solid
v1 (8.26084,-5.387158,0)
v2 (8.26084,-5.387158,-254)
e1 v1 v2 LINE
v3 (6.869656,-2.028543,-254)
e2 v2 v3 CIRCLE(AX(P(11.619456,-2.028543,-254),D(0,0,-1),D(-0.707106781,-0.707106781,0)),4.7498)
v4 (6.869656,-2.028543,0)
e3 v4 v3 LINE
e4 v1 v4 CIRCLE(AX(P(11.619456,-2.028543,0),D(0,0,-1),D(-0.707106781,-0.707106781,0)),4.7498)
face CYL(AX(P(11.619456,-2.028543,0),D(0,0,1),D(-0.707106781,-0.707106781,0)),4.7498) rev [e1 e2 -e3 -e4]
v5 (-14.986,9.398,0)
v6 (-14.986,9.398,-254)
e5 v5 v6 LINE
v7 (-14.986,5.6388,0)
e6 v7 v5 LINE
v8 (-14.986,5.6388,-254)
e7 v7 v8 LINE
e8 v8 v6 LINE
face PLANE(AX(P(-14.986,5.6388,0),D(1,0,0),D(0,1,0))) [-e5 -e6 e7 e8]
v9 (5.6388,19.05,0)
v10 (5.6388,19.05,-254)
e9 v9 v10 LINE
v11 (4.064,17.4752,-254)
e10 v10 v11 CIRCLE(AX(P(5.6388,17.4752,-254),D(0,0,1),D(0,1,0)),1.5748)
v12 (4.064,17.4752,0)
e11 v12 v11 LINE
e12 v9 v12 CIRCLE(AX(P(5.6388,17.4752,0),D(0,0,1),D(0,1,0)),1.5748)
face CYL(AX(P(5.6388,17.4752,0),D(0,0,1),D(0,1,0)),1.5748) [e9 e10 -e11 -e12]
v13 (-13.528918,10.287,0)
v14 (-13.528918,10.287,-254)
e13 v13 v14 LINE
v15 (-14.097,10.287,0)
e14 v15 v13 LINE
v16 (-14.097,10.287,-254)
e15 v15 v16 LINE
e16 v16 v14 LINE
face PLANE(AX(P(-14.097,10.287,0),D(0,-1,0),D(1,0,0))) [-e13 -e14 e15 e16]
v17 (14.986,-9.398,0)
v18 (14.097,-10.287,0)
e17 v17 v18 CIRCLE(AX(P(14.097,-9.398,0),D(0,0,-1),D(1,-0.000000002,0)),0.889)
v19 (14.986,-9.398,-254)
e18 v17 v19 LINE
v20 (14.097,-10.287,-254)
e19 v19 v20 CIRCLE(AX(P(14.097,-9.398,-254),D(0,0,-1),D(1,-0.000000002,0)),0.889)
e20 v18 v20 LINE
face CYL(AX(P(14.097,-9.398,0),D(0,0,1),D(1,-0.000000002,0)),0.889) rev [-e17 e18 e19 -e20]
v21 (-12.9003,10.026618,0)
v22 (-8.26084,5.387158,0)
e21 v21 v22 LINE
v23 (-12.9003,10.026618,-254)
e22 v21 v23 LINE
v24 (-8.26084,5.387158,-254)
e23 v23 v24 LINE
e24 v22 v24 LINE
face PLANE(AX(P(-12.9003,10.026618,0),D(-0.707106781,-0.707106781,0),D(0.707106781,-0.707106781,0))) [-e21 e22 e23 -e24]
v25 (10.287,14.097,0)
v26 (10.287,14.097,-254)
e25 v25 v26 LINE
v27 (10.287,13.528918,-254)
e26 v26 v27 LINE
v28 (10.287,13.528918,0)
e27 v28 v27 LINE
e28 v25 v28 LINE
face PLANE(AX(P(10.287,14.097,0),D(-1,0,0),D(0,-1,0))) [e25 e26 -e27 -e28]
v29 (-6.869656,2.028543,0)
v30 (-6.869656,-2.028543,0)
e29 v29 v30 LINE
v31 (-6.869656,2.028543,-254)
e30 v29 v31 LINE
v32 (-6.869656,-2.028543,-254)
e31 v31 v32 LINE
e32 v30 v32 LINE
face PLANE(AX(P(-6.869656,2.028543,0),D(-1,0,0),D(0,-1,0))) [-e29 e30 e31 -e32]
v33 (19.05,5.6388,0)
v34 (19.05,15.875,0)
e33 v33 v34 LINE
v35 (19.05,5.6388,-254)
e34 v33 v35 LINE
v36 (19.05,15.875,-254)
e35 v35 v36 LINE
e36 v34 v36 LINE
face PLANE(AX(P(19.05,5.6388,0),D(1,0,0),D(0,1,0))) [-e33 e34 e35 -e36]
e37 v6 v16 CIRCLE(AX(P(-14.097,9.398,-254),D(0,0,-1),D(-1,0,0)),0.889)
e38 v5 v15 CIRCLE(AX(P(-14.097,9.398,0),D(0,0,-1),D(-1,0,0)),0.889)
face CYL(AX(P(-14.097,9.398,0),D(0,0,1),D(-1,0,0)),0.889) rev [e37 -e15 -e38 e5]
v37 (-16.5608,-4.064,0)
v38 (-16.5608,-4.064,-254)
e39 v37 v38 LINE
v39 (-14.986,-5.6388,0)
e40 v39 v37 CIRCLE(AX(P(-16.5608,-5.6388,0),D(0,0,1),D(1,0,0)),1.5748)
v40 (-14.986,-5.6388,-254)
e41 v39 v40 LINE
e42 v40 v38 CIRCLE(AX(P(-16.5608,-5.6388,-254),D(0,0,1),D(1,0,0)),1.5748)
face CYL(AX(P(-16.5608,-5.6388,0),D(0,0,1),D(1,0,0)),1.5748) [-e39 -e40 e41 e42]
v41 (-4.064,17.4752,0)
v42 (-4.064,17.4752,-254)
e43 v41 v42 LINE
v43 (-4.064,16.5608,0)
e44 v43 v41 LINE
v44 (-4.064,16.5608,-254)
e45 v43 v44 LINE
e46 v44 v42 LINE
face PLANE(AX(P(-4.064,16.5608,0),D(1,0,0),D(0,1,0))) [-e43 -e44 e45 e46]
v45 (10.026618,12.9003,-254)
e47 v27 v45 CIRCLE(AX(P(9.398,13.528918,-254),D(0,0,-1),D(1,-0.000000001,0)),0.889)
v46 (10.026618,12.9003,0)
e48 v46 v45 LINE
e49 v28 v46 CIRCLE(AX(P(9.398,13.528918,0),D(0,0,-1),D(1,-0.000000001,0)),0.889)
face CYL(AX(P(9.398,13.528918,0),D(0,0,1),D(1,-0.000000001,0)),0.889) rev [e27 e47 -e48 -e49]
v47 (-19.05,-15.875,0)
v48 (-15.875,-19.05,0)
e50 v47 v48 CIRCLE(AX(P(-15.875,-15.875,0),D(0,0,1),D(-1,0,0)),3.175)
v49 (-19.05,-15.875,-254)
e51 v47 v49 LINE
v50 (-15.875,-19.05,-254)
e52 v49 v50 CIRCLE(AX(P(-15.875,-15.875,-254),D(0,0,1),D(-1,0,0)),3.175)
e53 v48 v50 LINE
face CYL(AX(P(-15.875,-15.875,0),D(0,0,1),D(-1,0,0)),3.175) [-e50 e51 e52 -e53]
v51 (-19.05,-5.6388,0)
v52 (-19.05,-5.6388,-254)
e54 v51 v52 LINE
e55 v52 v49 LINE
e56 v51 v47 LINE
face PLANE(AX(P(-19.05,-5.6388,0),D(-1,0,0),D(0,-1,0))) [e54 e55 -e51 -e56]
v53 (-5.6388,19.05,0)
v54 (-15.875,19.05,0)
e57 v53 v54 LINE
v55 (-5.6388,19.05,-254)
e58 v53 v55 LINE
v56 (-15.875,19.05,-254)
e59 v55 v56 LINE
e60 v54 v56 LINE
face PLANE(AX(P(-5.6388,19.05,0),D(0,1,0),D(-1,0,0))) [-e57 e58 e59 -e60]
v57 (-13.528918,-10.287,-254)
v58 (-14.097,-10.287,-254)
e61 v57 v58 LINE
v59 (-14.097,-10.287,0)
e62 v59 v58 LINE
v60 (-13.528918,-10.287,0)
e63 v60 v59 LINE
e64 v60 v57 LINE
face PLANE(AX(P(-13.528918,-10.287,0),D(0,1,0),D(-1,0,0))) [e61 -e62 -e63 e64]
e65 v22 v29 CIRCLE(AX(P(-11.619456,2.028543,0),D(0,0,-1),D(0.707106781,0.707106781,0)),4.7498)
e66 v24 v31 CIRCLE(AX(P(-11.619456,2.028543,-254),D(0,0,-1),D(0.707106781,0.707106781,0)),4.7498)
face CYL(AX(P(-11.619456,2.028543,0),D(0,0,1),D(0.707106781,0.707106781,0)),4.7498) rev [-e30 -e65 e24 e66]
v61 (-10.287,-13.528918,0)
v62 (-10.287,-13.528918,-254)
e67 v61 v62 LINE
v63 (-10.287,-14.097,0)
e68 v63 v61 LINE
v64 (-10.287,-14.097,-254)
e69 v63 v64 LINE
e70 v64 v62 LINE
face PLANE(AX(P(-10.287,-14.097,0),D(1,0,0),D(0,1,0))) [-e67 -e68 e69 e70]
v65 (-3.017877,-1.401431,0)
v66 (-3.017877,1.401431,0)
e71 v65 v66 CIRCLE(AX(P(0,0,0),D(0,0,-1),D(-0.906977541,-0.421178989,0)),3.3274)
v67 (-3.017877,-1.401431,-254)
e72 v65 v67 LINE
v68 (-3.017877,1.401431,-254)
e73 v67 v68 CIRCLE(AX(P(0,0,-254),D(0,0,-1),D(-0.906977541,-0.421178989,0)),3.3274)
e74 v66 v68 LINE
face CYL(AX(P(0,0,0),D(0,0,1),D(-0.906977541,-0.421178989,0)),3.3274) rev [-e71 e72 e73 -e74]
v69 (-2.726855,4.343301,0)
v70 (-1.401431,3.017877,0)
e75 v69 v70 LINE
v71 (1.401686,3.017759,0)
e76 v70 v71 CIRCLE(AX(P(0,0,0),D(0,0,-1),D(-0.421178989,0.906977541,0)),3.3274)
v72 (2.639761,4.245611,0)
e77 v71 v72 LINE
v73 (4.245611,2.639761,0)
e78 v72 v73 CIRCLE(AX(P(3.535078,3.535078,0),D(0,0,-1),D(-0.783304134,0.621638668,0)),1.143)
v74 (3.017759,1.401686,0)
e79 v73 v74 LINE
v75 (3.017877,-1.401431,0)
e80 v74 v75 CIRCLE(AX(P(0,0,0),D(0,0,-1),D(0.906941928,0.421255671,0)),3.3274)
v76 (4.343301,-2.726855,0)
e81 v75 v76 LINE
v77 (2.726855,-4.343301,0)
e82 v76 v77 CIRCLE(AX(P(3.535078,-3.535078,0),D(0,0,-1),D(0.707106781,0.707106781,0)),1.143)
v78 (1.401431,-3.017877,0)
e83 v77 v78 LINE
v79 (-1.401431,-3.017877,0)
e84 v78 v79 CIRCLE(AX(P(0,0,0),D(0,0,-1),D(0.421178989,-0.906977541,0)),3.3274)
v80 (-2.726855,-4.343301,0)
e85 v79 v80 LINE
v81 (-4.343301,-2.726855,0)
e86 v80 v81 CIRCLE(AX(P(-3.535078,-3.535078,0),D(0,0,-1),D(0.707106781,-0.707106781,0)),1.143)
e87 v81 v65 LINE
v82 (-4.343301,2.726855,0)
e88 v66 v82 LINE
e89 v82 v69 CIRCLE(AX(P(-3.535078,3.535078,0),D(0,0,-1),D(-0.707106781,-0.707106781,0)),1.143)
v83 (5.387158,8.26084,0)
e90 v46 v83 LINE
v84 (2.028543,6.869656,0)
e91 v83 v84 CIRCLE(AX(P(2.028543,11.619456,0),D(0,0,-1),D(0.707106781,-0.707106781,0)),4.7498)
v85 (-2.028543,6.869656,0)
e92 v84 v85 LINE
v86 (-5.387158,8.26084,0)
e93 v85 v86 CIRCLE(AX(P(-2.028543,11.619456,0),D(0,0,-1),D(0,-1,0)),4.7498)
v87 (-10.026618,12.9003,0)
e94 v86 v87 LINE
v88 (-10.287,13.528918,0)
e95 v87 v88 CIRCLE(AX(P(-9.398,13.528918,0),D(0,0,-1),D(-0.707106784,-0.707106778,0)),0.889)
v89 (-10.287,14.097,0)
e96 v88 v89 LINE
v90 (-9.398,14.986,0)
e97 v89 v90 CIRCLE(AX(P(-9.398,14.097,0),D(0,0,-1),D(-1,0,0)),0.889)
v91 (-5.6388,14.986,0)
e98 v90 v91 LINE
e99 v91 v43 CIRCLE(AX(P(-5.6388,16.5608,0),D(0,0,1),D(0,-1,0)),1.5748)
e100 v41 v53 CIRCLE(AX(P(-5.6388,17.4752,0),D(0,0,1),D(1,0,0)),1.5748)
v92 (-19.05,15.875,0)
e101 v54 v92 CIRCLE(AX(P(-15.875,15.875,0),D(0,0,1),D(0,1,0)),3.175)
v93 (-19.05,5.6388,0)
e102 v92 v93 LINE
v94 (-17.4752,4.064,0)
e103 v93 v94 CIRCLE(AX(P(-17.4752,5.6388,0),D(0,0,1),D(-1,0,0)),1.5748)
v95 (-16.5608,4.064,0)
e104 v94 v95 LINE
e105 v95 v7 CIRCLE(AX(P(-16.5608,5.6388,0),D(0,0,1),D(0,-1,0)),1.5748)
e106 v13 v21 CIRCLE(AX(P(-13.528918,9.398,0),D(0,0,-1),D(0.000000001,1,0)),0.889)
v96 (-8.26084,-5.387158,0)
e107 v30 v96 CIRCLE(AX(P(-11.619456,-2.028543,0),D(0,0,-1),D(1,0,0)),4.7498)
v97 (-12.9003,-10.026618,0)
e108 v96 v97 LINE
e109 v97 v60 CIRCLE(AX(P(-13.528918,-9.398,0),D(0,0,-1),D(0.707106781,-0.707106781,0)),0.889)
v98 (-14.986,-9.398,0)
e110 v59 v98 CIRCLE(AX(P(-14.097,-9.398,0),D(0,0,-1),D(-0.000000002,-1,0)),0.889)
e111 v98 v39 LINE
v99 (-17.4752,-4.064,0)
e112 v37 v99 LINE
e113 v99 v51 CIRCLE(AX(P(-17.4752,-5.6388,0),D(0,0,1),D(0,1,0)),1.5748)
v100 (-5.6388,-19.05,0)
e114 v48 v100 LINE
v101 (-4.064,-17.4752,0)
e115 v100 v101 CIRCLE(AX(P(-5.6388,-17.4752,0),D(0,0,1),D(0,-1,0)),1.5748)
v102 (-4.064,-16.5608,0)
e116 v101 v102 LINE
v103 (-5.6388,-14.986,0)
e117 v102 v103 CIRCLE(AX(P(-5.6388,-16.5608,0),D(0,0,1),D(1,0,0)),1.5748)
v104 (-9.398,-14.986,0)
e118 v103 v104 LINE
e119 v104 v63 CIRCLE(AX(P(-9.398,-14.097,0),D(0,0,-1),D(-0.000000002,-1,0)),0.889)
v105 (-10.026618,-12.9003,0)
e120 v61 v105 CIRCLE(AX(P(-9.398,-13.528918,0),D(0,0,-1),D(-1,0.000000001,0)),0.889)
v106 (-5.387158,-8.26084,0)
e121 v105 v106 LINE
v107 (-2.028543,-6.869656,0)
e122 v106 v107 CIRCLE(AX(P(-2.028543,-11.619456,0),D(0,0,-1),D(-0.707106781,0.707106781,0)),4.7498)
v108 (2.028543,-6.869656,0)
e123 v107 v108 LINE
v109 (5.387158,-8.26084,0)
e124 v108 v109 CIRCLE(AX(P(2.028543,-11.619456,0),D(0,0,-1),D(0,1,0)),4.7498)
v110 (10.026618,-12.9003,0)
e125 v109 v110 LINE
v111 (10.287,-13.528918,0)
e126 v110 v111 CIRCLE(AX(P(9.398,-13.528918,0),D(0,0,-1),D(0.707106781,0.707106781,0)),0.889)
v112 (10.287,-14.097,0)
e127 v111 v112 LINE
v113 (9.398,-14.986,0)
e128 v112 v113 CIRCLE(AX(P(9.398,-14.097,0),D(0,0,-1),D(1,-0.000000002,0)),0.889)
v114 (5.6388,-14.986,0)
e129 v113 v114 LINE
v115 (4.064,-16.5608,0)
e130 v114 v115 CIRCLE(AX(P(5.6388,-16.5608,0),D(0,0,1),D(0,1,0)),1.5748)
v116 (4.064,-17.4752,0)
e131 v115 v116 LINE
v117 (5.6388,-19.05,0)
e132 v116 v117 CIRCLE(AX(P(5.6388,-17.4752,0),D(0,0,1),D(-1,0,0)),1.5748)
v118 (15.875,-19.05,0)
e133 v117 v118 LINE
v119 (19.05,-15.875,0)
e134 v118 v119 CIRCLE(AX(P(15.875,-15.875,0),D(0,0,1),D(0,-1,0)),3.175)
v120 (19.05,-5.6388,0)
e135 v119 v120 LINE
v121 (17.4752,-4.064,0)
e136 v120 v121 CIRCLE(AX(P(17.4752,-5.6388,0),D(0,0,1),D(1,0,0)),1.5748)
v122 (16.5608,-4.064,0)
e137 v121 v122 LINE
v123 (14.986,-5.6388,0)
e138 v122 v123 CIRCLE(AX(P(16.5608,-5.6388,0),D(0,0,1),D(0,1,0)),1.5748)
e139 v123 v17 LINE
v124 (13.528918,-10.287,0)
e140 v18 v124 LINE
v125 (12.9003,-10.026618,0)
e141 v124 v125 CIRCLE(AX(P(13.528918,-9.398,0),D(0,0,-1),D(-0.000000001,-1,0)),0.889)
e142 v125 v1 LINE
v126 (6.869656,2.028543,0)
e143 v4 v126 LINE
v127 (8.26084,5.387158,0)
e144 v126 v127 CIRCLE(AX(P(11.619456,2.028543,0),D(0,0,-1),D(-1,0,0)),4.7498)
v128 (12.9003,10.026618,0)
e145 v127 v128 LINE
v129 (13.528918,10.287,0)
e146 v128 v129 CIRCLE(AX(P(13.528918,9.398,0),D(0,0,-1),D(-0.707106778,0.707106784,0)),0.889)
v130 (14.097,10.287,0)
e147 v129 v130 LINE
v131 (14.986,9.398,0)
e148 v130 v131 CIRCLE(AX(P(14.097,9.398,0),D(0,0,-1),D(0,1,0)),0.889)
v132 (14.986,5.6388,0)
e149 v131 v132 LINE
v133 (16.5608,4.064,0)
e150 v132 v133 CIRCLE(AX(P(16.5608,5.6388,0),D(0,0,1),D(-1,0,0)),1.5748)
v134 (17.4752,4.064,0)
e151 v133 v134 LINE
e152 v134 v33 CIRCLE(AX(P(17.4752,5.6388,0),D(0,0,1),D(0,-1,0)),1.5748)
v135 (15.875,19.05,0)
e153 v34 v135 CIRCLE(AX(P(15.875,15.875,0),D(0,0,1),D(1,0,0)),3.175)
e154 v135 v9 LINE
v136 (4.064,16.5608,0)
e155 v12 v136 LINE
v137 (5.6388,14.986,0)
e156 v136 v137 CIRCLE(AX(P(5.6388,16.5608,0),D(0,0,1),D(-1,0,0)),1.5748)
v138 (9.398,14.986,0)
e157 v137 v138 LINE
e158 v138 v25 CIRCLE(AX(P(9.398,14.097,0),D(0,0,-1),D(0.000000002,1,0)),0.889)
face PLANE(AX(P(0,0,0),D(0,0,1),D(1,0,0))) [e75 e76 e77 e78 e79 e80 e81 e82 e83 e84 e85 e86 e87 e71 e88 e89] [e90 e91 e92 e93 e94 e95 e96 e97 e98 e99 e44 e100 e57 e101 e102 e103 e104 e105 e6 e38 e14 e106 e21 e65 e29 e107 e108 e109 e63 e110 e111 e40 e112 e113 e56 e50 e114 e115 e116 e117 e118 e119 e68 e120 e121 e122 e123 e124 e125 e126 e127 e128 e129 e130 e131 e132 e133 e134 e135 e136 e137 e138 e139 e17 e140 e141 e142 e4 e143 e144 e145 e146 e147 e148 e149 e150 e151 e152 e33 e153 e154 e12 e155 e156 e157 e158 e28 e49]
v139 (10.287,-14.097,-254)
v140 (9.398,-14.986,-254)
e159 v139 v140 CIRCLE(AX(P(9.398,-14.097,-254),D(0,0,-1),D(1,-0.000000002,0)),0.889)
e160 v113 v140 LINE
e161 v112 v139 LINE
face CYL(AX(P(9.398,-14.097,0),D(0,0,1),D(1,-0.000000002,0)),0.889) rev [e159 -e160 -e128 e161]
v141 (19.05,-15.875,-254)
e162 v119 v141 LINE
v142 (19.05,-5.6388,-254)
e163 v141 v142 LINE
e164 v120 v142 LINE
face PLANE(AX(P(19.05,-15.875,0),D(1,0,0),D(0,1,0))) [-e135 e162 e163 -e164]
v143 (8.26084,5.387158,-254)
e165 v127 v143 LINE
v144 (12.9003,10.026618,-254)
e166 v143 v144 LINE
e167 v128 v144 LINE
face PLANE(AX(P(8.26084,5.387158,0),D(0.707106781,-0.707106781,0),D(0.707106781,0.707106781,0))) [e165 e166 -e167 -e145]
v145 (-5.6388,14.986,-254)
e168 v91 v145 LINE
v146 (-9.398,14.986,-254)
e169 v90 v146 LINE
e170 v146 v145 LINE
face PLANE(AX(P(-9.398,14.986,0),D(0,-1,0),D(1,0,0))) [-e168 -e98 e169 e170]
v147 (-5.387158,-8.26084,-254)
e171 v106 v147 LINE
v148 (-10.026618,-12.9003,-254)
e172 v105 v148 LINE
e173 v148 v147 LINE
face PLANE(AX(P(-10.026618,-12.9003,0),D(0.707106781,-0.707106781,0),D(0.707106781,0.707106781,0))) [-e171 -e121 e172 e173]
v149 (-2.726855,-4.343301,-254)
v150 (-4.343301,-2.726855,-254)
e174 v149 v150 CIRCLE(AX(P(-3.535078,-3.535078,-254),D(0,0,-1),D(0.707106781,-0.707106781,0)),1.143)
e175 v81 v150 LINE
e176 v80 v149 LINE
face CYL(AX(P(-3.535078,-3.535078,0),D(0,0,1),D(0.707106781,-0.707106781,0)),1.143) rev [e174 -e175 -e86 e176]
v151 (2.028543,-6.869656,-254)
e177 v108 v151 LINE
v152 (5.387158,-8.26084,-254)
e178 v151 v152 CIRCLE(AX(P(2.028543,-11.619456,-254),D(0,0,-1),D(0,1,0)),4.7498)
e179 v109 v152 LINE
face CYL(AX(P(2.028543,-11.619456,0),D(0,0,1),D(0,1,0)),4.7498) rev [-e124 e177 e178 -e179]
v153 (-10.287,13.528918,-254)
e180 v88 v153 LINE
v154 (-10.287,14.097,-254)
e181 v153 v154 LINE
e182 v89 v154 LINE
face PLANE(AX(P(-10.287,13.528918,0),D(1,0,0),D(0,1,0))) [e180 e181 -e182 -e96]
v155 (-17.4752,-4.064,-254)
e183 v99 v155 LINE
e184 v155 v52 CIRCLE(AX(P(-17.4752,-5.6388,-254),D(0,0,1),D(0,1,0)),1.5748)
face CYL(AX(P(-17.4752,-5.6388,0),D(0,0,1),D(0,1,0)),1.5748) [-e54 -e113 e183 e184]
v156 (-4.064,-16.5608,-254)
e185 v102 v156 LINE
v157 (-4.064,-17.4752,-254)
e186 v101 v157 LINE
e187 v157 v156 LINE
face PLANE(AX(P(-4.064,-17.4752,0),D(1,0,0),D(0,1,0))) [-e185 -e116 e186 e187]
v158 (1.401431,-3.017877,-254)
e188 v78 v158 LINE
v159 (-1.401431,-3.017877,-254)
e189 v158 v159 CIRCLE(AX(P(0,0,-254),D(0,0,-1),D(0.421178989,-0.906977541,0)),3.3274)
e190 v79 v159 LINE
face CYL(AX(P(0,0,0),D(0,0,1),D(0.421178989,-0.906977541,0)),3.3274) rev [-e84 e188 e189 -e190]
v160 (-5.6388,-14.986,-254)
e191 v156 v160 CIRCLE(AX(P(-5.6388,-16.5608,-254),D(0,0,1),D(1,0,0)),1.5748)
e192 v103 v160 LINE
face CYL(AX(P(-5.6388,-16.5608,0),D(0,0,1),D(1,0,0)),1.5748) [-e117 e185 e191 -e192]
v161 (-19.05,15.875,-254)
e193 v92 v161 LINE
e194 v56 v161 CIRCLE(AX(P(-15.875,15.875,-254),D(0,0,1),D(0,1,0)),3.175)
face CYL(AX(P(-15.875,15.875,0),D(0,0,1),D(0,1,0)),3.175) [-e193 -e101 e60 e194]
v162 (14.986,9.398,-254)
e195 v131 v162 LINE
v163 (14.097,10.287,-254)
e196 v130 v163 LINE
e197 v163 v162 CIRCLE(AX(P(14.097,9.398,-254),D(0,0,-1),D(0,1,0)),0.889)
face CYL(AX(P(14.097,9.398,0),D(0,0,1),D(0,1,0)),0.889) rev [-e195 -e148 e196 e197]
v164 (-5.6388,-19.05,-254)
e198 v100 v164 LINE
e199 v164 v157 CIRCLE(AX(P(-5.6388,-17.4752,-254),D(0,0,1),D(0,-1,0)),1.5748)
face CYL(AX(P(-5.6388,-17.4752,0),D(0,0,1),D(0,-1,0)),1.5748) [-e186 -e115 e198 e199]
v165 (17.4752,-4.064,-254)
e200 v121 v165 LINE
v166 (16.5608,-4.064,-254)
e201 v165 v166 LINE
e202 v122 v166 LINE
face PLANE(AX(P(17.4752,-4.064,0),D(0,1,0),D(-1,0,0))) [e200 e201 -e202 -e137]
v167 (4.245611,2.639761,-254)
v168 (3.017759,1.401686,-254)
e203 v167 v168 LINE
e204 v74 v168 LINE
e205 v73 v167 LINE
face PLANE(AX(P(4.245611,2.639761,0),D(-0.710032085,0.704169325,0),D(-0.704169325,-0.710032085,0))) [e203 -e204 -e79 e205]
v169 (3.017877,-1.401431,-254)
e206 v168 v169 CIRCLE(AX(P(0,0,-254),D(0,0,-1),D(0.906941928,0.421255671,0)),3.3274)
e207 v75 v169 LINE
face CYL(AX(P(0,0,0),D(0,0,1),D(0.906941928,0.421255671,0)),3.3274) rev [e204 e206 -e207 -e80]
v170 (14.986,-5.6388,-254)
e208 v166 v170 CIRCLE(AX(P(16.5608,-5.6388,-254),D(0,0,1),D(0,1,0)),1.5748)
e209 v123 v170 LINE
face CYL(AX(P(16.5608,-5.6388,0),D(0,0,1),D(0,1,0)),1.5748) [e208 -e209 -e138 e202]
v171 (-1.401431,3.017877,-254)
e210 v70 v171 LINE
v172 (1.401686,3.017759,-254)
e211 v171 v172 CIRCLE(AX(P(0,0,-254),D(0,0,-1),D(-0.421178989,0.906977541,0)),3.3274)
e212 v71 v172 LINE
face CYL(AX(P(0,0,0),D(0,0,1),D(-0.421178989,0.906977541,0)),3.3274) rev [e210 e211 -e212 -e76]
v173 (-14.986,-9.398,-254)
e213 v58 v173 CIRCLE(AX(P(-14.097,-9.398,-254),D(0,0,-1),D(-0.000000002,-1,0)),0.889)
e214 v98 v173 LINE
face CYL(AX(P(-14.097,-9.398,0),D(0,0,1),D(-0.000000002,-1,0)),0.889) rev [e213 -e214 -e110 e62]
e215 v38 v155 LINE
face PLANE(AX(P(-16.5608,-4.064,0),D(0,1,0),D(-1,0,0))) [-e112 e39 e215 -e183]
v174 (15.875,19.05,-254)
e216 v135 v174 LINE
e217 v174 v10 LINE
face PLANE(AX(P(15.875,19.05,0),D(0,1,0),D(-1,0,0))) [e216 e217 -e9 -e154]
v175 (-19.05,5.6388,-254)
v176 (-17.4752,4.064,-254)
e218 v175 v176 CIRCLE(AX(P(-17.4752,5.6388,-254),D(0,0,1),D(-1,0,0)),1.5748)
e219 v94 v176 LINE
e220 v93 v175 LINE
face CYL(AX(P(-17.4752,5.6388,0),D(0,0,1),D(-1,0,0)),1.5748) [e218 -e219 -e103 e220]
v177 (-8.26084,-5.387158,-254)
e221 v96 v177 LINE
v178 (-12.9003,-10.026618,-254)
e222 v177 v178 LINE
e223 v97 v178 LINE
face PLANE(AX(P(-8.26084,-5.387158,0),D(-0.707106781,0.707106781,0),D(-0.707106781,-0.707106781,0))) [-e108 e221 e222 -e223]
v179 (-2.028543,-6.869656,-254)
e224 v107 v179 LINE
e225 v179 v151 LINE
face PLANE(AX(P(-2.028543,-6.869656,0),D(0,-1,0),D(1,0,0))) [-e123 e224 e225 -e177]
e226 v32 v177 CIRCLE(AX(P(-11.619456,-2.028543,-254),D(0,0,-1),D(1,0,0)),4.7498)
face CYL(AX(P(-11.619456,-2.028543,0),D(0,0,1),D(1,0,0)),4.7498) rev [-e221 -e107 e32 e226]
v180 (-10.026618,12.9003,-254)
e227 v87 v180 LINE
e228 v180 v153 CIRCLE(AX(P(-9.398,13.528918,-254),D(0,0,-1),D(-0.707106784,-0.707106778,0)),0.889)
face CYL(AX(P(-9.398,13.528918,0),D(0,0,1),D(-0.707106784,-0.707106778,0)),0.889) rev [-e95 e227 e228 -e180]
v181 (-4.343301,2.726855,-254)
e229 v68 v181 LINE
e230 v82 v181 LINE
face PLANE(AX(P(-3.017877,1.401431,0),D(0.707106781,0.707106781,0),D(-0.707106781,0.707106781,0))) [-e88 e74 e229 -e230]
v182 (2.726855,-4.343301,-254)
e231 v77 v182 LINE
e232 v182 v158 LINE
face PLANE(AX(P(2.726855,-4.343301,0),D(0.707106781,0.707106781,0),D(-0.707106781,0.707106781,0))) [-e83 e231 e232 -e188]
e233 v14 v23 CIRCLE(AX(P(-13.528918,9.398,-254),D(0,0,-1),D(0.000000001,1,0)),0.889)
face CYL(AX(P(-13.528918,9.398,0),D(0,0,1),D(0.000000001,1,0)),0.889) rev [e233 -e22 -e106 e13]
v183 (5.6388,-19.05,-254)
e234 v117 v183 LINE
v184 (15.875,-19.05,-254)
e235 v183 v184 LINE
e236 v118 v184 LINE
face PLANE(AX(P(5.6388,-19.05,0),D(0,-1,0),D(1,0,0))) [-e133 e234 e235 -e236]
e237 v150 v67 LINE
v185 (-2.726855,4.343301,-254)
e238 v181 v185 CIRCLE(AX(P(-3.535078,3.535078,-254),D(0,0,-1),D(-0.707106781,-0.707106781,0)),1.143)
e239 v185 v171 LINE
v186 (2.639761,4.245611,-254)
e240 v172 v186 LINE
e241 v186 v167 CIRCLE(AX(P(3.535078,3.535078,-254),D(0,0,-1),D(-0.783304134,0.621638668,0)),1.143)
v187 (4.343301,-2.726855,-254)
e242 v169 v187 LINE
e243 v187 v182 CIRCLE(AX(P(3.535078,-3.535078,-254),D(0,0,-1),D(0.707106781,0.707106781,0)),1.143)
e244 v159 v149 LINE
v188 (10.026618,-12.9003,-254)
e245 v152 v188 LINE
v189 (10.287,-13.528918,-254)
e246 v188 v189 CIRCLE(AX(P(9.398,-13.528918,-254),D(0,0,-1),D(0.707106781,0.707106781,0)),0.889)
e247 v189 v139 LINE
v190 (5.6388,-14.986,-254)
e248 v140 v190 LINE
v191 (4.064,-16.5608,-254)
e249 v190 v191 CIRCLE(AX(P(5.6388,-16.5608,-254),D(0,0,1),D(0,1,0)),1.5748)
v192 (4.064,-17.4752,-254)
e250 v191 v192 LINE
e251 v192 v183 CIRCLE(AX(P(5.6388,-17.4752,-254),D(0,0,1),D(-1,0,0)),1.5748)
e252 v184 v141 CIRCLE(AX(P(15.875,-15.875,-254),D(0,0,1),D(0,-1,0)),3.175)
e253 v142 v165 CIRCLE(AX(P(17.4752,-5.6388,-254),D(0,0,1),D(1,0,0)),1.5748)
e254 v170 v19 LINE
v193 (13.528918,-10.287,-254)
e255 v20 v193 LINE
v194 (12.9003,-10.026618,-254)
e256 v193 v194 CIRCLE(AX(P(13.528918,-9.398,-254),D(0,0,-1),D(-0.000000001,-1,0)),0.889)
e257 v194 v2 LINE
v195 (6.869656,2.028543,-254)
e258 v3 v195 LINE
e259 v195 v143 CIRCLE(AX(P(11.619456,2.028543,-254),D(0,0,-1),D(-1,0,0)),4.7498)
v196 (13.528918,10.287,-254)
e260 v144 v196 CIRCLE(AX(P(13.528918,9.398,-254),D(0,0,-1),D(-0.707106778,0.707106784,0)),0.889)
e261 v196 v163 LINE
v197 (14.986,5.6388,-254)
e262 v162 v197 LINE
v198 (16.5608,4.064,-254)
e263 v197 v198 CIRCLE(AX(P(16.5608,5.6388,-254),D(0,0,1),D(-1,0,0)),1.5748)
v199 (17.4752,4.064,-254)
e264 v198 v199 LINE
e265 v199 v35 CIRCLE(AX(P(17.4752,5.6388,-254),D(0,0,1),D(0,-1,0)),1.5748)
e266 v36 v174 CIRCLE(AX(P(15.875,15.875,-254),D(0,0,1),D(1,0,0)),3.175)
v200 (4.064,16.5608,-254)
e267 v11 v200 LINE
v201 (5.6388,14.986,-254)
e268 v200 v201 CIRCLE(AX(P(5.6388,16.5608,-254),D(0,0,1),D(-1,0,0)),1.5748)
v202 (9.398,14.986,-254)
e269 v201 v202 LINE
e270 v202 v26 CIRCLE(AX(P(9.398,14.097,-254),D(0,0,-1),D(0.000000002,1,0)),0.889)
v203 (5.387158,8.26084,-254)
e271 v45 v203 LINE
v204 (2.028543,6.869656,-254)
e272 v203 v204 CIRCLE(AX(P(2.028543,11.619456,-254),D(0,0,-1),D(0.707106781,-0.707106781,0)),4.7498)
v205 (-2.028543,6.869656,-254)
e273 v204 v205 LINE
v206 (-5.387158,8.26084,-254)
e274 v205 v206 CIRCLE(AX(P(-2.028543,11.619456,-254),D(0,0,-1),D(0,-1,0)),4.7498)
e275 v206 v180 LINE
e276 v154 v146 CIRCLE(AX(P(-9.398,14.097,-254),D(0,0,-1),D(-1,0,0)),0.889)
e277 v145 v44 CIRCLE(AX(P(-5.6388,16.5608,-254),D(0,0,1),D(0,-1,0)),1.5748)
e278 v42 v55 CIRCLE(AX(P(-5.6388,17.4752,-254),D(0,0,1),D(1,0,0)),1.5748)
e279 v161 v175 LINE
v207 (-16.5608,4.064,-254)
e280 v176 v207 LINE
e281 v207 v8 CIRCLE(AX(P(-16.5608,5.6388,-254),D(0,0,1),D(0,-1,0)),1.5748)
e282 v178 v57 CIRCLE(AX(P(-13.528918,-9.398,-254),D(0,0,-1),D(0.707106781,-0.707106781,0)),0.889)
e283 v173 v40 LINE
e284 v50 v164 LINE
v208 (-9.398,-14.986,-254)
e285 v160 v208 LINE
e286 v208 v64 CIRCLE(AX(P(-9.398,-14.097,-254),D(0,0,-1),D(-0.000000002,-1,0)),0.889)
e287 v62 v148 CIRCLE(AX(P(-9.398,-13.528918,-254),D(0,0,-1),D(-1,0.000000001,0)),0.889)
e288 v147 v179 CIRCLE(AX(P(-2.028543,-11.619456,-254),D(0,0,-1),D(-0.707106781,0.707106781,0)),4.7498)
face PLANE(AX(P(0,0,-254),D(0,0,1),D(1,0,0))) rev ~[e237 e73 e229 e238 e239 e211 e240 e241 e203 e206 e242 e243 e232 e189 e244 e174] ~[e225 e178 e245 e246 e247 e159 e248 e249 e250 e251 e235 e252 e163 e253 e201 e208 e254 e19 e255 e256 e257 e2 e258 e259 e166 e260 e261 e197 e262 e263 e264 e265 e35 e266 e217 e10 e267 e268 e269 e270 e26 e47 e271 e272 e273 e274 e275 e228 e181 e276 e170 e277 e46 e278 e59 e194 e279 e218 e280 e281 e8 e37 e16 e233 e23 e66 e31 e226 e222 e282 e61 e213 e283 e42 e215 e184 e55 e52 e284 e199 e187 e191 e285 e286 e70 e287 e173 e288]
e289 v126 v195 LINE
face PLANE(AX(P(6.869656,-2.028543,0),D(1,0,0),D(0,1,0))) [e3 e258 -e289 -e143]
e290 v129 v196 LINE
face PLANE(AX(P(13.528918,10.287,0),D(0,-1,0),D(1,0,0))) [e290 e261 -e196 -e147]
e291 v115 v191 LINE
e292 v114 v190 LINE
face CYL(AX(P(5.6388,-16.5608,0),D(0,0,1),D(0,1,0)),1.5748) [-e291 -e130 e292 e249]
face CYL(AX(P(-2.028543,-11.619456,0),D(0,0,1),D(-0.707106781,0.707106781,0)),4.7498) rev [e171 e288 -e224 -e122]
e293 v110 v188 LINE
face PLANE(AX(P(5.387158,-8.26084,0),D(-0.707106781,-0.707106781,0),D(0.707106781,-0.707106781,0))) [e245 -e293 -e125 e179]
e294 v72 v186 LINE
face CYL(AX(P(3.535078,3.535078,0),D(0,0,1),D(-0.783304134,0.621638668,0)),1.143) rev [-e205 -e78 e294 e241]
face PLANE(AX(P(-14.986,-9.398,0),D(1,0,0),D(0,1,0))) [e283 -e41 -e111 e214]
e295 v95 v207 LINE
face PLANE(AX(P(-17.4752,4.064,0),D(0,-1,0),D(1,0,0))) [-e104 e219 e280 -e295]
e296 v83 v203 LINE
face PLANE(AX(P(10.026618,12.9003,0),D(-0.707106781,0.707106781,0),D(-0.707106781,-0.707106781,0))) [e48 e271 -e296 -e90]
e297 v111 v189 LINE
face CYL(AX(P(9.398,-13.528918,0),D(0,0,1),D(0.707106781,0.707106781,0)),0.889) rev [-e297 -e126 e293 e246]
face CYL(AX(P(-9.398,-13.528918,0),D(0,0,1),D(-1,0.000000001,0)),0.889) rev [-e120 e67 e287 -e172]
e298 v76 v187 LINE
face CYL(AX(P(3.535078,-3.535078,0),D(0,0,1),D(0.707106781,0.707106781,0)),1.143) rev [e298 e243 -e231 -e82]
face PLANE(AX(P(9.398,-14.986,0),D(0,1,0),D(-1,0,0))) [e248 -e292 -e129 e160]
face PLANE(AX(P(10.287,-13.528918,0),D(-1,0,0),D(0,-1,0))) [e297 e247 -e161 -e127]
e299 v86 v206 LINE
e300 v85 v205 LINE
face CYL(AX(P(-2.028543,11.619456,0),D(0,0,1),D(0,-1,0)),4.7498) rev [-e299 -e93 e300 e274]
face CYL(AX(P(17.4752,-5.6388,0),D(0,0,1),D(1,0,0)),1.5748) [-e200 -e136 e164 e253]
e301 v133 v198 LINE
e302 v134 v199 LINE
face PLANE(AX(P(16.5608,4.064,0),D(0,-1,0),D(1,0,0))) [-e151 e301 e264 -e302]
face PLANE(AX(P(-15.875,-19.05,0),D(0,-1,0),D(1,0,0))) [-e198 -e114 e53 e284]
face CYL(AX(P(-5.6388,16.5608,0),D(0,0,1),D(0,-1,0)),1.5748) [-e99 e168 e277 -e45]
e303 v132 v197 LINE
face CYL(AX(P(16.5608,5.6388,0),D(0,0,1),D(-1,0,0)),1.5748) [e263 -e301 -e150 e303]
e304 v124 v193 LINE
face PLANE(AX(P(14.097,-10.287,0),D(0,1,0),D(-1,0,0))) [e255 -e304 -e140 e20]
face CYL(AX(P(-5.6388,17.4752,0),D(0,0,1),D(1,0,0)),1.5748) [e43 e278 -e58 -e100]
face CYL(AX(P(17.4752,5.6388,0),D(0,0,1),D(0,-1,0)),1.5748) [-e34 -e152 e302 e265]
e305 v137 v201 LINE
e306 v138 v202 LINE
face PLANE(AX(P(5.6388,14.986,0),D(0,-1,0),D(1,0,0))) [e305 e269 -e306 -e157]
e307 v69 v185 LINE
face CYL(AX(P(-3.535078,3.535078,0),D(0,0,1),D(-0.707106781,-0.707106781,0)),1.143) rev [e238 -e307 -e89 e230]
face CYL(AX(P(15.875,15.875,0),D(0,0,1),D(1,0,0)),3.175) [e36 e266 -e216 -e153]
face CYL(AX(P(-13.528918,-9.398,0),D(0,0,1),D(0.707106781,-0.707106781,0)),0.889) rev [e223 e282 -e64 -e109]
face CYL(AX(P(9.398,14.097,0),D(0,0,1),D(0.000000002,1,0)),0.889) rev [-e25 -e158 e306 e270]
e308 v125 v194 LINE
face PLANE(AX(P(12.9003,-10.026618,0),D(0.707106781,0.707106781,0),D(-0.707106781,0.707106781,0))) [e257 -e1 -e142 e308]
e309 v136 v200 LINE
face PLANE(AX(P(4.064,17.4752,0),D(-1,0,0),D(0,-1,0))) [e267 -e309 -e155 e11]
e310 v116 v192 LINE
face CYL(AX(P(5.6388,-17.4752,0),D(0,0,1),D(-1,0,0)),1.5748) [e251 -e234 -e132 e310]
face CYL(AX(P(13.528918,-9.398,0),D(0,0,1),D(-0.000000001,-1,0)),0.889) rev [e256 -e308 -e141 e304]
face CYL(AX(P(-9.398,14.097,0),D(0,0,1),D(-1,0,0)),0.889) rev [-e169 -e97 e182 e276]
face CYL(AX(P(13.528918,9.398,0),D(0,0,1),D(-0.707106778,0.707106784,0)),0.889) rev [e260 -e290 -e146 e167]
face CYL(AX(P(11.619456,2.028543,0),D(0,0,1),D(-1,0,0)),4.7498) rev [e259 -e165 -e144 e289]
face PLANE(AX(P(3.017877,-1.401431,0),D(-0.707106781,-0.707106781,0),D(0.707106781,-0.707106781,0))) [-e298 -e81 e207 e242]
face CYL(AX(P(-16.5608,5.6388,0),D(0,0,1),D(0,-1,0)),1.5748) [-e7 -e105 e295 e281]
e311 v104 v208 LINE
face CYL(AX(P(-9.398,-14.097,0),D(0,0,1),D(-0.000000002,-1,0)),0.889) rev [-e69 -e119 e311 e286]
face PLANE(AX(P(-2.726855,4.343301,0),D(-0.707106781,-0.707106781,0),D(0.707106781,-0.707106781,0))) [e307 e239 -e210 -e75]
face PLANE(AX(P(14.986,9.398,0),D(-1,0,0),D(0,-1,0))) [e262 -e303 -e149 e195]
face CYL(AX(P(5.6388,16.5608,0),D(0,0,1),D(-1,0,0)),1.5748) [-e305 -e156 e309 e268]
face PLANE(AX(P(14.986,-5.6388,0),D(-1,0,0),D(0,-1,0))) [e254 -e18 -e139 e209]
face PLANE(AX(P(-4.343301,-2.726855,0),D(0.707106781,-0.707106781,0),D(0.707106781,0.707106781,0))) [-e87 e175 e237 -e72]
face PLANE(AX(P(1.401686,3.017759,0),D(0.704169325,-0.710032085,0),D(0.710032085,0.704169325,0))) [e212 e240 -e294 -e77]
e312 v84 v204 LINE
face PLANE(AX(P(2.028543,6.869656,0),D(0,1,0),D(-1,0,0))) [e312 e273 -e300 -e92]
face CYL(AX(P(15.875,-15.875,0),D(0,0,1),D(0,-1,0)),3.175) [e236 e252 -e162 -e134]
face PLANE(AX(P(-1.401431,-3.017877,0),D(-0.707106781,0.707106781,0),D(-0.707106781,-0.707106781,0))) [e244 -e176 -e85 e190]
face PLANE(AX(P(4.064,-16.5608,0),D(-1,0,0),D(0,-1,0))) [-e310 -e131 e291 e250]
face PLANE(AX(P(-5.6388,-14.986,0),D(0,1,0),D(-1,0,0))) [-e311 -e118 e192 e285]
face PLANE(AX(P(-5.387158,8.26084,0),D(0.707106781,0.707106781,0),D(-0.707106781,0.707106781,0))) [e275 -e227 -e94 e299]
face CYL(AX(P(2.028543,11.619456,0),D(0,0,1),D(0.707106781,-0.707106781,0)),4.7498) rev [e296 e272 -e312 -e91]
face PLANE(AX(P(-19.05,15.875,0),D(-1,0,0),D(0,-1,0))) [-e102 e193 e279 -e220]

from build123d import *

# Parameters (mm, degrees)
EXTRUDE1_DEPTH = 254


with BuildPart() as part:
    # Sketch1 → Extrude1 (new body)
    with BuildSketch(Plane.XY):
        with BuildLine():
            Line((14.986, -5.6388), (14.986, -9.398))
            ThreePointArc((14.986, -9.398), (14.725617928, -10.026617928), (14.097, -10.287))
            Line((14.097, -10.287), (13.528917816, -10.287))
            ThreePointArc((13.528917816, -10.287), (13.188712244, -10.219328904), (12.900299887, -10.026617928))
            Line((12.900299887, -10.026617928), (8.260840349, -5.38715839))
            ThreePointArc((8.260840349, -5.38715839), (7.231213135, -3.846212368), (6.869656138, -2.028542601))
            Line((6.869656138, -2.028542601), (6.869656138, 2.028542601))
            ThreePointArc((6.869656138, 2.028542601), (7.231213135, 3.846212368), (8.260840349, 5.38715839))
            Line((8.260840349, 5.38715839), (12.900299887, 10.026617929))
            ThreePointArc((12.900299887, 10.026617929), (13.188712244, 10.219328904), (13.528917816, 10.287))
            Line((13.528917816, 10.287), (14.097, 10.287))
            ThreePointArc((14.097, 10.287), (14.725617928, 10.026617929), (14.986, 9.398))
            Line((14.986, 9.398), (14.986, 5.6388))
            ThreePointArc((14.986, 5.6388), (15.447248241, 4.525248241), (16.5608, 4.064))
            Line((16.5608, 4.064), (17.4752, 4.064))
            ThreePointArc((17.4752, 4.064), (18.588751759, 4.525248241), (19.05, 5.6388))
            Line((19.05, 5.6388), (19.05, 15.875))
            ThreePointArc((19.05, 15.875), (18.12006403, 18.12006403), (15.875, 19.05))
            Line((15.875, 19.05), (5.6388, 19.05))
            ThreePointArc((5.6388, 19.05), (4.525248241, 18.588751759), (4.064, 17.4752))
            Line((4.064, 17.4752), (4.064, 16.5608))
            ThreePointArc((4.064, 16.5608), (4.525248241, 15.447248241), (5.6388, 14.986))
            Line((5.6388, 14.986), (9.398, 14.986))
            ThreePointArc((9.398, 14.986), (10.026617928, 14.725617928), (10.287, 14.097))
            Line((10.287, 14.097), (10.287, 13.528917816))
            ThreePointArc((10.287, 13.528917816), (10.219328904, 13.188712244), (10.026617928, 12.900299887))
            Line((10.026617928, 12.900299887), (5.38715839, 8.260840349))
            ThreePointArc((5.38715839, 8.260840349), (3.846212368, 7.231213135), (2.028542601, 6.869656138))
            Line((2.028542601, 6.869656138), (-2.028542601, 6.869656138))
            ThreePointArc((-2.028542601, 6.869656138), (-3.846212368, 7.231213135), (-5.38715839, 8.260840349))
            Line((-5.38715839, 8.260840349), (-10.026617929, 12.900299887))
            ThreePointArc((-10.026617929, 12.900299887), (-10.219328904, 13.188712244), (-10.287, 13.528917816))
            Line((-10.287, 13.528917816), (-10.287, 14.097))
            ThreePointArc((-10.287, 14.097), (-10.026617929, 14.725617928), (-9.398, 14.986))
            Line((-9.398, 14.986), (-5.6388, 14.986))
            ThreePointArc((-5.6388, 14.986), (-4.525248241, 15.447248241), (-4.064, 16.5608))
            Line((-4.064, 16.5608), (-4.064, 17.4752))
            ThreePointArc((-4.064, 17.4752), (-4.525248241, 18.588751759), (-5.6388, 19.05))
            Line((-5.6388, 19.05), (-15.875, 19.05))
            ThreePointArc((-15.875, 19.05), (-18.12006403, 18.12006403), (-19.05, 15.875))
            Line((-19.05, 15.875), (-19.05, 5.6388))
            ThreePointArc((-19.05, 5.6388), (-18.588751759, 4.525248241), (-17.4752, 4.064))
            Line((-17.4752, 4.064), (-16.5608, 4.064))
            ThreePointArc((-16.5608, 4.064), (-15.447248241, 4.525248241), (-14.986, 5.6388))
            Line((-14.986, 5.6388), (-14.986, 9.398))
            ThreePointArc((-14.986, 9.398), (-14.725617929, 10.026617928), (-14.097, 10.287))
            Line((-14.097, 10.287), (-13.528917816, 10.287))
            ThreePointArc((-13.528917816, 10.287), (-13.188712244, 10.219328904), (-12.900299887, 10.026617928))
            Line((-12.900299887, 10.026617928), (-8.260840349, 5.38715839))
            ThreePointArc((-8.260840349, 5.38715839), (-7.231213135, 3.846212368), (-6.869656138, 2.028542601))
            Line((-6.869656138, 2.028542601), (-6.869656138, -2.028542601))
            ThreePointArc((-6.869656138, -2.028542601), (-7.231213135, -3.846212368), (-8.260840349, -5.38715839))
            Line((-8.260840349, -5.38715839), (-12.900299887, -10.026617928))
            ThreePointArc((-12.900299887, -10.026617928), (-13.188712244, -10.219328904), (-13.528917816, -10.287))
            Line((-13.528917816, -10.287), (-14.097, -10.287))
            ThreePointArc((-14.097, -10.287), (-14.725617928, -10.026617928), (-14.986, -9.398))
            Line((-14.986, -9.398), (-14.986, -5.6388))
            ThreePointArc((-14.986, -5.6388), (-15.447248241, -4.525248241), (-16.5608, -4.064))
            Line((-16.5608, -4.064), (-17.4752, -4.064))
            ThreePointArc((-17.4752, -4.064), (-18.588751759, -4.525248241), (-19.05, -5.6388))
            Line((-19.05, -5.6388), (-19.05, -15.875))
            ThreePointArc((-19.05, -15.875), (-18.12006403, -18.12006403), (-15.875, -19.05))
            Line((-15.875, -19.05), (-5.6388, -19.05))
            ThreePointArc((-5.6388, -19.05), (-4.525248241, -18.588751759), (-4.064, -17.4752))
            Line((-4.064, -17.4752), (-4.064, -16.5608))
            ThreePointArc((-4.064, -16.5608), (-4.525248241, -15.447248241), (-5.6388, -14.986))
            Line((-5.6388, -14.986), (-9.398, -14.986))
            ThreePointArc((-9.398, -14.986), (-10.026617928, -14.725617928), (-10.287, -14.097))
            Line((-10.287, -14.097), (-10.287, -13.528917816))
            ThreePointArc((-10.287, -13.528917816), (-10.219328904, -13.188712244), (-10.026617928, -12.900299887))
            Line((-10.026617928, -12.900299887), (-5.38715839, -8.260840349))
            ThreePointArc((-5.38715839, -8.260840349), (-3.846212368, -7.231213135), (-2.028542601, -6.869656138))
            Line((-2.028542601, -6.869656138), (2.028542601, -6.869656138))
            ThreePointArc((2.028542601, -6.869656138), (3.846212368, -7.231213135), (5.38715839, -8.260840349))
            Line((5.38715839, -8.260840349), (10.026617928, -12.900299887))
            ThreePointArc((10.026617928, -12.900299887), (10.219328904, -13.188712244), (10.287, -13.528917816))
            Line((10.287, -13.528917816), (10.287, -14.097))
            ThreePointArc((10.287, -14.097), (10.026617928, -14.725617928), (9.398, -14.986))
            Line((9.398, -14.986), (5.6388, -14.986))
            ThreePointArc((5.6388, -14.986), (4.525248241, -15.447248241), (4.064, -16.5608))
            Line((4.064, -16.5608), (4.064, -17.4752))
            ThreePointArc((4.064, -17.4752), (4.525248241, -18.588751759), (5.6388, -19.05))
            Line((5.6388, -19.05), (15.875, -19.05))
            ThreePointArc((15.875, -19.05), (18.12006403, -18.12006403), (19.05, -15.875))
            Line((19.05, -15.875), (19.05, -5.6388))
            ThreePointArc((19.05, -5.6388), (18.588751759, -4.525248241), (17.4752, -4.064))
            Line((17.4752, -4.064), (16.5608, -4.064))
            ThreePointArc((16.5608, -4.064), (15.447248241, -4.525248241), (14.986, -5.6388))
        make_face()
        with BuildLine():
            Line((4.24561082, 2.639761197), (3.01775857, 1.401686117))
            ThreePointArc((3.01775857, 1.401686117), (3.327399997, 0.000140662), (3.017877069, -1.401430967))
            Line((3.017877069, -1.401430967), (4.343300873, -2.726854771))
            ThreePointArc((4.343300873, -2.726854771), (4.343300873, -4.343300873), (2.726854771, -4.343300873))
            Line((2.726854771, -4.343300873), (1.401430967, -3.017877069))
            ThreePointArc((1.401430967, -3.017877069), (0, -3.3274), (-1.401430967, -3.017877069))
            Line((-1.401430967, -3.017877069), (-2.726854771, -4.343300873))
            ThreePointArc((-2.726854771, -4.343300873), (-4.343300873, -4.343300873), (-4.343300873, -2.726854771))
            Line((-4.343300873, -2.726854771), (-3.017877069, -1.401430967))
            ThreePointArc((-3.017877069, -1.401430967), (-3.3274, 0), (-3.017877069, 1.401430967))
            Line((-3.017877069, 1.401430967), (-4.343300873, 2.726854771))
            ThreePointArc((-4.343300873, 2.726854771), (-4.343300873, 4.343300873), (-2.726854771, 4.343300873))
            Line((-2.726854771, 4.343300873), (-1.401430967, 3.017877069))
            ThreePointArc((-1.401430967, 3.017877069), (0.000140662, 3.327399997), (1.401686117, 3.01775857))
            Line((1.401686117, 3.01775857), (2.639761197, 4.24561082))
            ThreePointArc((2.639761197, 4.24561082), (4.343300873, 4.343300873), (4.24561082, 2.639761197))
        make_face(mode=Mode.SUBTRACT)
    extrude(amount=-EXTRUDE1_DEPTH)


solid = part.part
